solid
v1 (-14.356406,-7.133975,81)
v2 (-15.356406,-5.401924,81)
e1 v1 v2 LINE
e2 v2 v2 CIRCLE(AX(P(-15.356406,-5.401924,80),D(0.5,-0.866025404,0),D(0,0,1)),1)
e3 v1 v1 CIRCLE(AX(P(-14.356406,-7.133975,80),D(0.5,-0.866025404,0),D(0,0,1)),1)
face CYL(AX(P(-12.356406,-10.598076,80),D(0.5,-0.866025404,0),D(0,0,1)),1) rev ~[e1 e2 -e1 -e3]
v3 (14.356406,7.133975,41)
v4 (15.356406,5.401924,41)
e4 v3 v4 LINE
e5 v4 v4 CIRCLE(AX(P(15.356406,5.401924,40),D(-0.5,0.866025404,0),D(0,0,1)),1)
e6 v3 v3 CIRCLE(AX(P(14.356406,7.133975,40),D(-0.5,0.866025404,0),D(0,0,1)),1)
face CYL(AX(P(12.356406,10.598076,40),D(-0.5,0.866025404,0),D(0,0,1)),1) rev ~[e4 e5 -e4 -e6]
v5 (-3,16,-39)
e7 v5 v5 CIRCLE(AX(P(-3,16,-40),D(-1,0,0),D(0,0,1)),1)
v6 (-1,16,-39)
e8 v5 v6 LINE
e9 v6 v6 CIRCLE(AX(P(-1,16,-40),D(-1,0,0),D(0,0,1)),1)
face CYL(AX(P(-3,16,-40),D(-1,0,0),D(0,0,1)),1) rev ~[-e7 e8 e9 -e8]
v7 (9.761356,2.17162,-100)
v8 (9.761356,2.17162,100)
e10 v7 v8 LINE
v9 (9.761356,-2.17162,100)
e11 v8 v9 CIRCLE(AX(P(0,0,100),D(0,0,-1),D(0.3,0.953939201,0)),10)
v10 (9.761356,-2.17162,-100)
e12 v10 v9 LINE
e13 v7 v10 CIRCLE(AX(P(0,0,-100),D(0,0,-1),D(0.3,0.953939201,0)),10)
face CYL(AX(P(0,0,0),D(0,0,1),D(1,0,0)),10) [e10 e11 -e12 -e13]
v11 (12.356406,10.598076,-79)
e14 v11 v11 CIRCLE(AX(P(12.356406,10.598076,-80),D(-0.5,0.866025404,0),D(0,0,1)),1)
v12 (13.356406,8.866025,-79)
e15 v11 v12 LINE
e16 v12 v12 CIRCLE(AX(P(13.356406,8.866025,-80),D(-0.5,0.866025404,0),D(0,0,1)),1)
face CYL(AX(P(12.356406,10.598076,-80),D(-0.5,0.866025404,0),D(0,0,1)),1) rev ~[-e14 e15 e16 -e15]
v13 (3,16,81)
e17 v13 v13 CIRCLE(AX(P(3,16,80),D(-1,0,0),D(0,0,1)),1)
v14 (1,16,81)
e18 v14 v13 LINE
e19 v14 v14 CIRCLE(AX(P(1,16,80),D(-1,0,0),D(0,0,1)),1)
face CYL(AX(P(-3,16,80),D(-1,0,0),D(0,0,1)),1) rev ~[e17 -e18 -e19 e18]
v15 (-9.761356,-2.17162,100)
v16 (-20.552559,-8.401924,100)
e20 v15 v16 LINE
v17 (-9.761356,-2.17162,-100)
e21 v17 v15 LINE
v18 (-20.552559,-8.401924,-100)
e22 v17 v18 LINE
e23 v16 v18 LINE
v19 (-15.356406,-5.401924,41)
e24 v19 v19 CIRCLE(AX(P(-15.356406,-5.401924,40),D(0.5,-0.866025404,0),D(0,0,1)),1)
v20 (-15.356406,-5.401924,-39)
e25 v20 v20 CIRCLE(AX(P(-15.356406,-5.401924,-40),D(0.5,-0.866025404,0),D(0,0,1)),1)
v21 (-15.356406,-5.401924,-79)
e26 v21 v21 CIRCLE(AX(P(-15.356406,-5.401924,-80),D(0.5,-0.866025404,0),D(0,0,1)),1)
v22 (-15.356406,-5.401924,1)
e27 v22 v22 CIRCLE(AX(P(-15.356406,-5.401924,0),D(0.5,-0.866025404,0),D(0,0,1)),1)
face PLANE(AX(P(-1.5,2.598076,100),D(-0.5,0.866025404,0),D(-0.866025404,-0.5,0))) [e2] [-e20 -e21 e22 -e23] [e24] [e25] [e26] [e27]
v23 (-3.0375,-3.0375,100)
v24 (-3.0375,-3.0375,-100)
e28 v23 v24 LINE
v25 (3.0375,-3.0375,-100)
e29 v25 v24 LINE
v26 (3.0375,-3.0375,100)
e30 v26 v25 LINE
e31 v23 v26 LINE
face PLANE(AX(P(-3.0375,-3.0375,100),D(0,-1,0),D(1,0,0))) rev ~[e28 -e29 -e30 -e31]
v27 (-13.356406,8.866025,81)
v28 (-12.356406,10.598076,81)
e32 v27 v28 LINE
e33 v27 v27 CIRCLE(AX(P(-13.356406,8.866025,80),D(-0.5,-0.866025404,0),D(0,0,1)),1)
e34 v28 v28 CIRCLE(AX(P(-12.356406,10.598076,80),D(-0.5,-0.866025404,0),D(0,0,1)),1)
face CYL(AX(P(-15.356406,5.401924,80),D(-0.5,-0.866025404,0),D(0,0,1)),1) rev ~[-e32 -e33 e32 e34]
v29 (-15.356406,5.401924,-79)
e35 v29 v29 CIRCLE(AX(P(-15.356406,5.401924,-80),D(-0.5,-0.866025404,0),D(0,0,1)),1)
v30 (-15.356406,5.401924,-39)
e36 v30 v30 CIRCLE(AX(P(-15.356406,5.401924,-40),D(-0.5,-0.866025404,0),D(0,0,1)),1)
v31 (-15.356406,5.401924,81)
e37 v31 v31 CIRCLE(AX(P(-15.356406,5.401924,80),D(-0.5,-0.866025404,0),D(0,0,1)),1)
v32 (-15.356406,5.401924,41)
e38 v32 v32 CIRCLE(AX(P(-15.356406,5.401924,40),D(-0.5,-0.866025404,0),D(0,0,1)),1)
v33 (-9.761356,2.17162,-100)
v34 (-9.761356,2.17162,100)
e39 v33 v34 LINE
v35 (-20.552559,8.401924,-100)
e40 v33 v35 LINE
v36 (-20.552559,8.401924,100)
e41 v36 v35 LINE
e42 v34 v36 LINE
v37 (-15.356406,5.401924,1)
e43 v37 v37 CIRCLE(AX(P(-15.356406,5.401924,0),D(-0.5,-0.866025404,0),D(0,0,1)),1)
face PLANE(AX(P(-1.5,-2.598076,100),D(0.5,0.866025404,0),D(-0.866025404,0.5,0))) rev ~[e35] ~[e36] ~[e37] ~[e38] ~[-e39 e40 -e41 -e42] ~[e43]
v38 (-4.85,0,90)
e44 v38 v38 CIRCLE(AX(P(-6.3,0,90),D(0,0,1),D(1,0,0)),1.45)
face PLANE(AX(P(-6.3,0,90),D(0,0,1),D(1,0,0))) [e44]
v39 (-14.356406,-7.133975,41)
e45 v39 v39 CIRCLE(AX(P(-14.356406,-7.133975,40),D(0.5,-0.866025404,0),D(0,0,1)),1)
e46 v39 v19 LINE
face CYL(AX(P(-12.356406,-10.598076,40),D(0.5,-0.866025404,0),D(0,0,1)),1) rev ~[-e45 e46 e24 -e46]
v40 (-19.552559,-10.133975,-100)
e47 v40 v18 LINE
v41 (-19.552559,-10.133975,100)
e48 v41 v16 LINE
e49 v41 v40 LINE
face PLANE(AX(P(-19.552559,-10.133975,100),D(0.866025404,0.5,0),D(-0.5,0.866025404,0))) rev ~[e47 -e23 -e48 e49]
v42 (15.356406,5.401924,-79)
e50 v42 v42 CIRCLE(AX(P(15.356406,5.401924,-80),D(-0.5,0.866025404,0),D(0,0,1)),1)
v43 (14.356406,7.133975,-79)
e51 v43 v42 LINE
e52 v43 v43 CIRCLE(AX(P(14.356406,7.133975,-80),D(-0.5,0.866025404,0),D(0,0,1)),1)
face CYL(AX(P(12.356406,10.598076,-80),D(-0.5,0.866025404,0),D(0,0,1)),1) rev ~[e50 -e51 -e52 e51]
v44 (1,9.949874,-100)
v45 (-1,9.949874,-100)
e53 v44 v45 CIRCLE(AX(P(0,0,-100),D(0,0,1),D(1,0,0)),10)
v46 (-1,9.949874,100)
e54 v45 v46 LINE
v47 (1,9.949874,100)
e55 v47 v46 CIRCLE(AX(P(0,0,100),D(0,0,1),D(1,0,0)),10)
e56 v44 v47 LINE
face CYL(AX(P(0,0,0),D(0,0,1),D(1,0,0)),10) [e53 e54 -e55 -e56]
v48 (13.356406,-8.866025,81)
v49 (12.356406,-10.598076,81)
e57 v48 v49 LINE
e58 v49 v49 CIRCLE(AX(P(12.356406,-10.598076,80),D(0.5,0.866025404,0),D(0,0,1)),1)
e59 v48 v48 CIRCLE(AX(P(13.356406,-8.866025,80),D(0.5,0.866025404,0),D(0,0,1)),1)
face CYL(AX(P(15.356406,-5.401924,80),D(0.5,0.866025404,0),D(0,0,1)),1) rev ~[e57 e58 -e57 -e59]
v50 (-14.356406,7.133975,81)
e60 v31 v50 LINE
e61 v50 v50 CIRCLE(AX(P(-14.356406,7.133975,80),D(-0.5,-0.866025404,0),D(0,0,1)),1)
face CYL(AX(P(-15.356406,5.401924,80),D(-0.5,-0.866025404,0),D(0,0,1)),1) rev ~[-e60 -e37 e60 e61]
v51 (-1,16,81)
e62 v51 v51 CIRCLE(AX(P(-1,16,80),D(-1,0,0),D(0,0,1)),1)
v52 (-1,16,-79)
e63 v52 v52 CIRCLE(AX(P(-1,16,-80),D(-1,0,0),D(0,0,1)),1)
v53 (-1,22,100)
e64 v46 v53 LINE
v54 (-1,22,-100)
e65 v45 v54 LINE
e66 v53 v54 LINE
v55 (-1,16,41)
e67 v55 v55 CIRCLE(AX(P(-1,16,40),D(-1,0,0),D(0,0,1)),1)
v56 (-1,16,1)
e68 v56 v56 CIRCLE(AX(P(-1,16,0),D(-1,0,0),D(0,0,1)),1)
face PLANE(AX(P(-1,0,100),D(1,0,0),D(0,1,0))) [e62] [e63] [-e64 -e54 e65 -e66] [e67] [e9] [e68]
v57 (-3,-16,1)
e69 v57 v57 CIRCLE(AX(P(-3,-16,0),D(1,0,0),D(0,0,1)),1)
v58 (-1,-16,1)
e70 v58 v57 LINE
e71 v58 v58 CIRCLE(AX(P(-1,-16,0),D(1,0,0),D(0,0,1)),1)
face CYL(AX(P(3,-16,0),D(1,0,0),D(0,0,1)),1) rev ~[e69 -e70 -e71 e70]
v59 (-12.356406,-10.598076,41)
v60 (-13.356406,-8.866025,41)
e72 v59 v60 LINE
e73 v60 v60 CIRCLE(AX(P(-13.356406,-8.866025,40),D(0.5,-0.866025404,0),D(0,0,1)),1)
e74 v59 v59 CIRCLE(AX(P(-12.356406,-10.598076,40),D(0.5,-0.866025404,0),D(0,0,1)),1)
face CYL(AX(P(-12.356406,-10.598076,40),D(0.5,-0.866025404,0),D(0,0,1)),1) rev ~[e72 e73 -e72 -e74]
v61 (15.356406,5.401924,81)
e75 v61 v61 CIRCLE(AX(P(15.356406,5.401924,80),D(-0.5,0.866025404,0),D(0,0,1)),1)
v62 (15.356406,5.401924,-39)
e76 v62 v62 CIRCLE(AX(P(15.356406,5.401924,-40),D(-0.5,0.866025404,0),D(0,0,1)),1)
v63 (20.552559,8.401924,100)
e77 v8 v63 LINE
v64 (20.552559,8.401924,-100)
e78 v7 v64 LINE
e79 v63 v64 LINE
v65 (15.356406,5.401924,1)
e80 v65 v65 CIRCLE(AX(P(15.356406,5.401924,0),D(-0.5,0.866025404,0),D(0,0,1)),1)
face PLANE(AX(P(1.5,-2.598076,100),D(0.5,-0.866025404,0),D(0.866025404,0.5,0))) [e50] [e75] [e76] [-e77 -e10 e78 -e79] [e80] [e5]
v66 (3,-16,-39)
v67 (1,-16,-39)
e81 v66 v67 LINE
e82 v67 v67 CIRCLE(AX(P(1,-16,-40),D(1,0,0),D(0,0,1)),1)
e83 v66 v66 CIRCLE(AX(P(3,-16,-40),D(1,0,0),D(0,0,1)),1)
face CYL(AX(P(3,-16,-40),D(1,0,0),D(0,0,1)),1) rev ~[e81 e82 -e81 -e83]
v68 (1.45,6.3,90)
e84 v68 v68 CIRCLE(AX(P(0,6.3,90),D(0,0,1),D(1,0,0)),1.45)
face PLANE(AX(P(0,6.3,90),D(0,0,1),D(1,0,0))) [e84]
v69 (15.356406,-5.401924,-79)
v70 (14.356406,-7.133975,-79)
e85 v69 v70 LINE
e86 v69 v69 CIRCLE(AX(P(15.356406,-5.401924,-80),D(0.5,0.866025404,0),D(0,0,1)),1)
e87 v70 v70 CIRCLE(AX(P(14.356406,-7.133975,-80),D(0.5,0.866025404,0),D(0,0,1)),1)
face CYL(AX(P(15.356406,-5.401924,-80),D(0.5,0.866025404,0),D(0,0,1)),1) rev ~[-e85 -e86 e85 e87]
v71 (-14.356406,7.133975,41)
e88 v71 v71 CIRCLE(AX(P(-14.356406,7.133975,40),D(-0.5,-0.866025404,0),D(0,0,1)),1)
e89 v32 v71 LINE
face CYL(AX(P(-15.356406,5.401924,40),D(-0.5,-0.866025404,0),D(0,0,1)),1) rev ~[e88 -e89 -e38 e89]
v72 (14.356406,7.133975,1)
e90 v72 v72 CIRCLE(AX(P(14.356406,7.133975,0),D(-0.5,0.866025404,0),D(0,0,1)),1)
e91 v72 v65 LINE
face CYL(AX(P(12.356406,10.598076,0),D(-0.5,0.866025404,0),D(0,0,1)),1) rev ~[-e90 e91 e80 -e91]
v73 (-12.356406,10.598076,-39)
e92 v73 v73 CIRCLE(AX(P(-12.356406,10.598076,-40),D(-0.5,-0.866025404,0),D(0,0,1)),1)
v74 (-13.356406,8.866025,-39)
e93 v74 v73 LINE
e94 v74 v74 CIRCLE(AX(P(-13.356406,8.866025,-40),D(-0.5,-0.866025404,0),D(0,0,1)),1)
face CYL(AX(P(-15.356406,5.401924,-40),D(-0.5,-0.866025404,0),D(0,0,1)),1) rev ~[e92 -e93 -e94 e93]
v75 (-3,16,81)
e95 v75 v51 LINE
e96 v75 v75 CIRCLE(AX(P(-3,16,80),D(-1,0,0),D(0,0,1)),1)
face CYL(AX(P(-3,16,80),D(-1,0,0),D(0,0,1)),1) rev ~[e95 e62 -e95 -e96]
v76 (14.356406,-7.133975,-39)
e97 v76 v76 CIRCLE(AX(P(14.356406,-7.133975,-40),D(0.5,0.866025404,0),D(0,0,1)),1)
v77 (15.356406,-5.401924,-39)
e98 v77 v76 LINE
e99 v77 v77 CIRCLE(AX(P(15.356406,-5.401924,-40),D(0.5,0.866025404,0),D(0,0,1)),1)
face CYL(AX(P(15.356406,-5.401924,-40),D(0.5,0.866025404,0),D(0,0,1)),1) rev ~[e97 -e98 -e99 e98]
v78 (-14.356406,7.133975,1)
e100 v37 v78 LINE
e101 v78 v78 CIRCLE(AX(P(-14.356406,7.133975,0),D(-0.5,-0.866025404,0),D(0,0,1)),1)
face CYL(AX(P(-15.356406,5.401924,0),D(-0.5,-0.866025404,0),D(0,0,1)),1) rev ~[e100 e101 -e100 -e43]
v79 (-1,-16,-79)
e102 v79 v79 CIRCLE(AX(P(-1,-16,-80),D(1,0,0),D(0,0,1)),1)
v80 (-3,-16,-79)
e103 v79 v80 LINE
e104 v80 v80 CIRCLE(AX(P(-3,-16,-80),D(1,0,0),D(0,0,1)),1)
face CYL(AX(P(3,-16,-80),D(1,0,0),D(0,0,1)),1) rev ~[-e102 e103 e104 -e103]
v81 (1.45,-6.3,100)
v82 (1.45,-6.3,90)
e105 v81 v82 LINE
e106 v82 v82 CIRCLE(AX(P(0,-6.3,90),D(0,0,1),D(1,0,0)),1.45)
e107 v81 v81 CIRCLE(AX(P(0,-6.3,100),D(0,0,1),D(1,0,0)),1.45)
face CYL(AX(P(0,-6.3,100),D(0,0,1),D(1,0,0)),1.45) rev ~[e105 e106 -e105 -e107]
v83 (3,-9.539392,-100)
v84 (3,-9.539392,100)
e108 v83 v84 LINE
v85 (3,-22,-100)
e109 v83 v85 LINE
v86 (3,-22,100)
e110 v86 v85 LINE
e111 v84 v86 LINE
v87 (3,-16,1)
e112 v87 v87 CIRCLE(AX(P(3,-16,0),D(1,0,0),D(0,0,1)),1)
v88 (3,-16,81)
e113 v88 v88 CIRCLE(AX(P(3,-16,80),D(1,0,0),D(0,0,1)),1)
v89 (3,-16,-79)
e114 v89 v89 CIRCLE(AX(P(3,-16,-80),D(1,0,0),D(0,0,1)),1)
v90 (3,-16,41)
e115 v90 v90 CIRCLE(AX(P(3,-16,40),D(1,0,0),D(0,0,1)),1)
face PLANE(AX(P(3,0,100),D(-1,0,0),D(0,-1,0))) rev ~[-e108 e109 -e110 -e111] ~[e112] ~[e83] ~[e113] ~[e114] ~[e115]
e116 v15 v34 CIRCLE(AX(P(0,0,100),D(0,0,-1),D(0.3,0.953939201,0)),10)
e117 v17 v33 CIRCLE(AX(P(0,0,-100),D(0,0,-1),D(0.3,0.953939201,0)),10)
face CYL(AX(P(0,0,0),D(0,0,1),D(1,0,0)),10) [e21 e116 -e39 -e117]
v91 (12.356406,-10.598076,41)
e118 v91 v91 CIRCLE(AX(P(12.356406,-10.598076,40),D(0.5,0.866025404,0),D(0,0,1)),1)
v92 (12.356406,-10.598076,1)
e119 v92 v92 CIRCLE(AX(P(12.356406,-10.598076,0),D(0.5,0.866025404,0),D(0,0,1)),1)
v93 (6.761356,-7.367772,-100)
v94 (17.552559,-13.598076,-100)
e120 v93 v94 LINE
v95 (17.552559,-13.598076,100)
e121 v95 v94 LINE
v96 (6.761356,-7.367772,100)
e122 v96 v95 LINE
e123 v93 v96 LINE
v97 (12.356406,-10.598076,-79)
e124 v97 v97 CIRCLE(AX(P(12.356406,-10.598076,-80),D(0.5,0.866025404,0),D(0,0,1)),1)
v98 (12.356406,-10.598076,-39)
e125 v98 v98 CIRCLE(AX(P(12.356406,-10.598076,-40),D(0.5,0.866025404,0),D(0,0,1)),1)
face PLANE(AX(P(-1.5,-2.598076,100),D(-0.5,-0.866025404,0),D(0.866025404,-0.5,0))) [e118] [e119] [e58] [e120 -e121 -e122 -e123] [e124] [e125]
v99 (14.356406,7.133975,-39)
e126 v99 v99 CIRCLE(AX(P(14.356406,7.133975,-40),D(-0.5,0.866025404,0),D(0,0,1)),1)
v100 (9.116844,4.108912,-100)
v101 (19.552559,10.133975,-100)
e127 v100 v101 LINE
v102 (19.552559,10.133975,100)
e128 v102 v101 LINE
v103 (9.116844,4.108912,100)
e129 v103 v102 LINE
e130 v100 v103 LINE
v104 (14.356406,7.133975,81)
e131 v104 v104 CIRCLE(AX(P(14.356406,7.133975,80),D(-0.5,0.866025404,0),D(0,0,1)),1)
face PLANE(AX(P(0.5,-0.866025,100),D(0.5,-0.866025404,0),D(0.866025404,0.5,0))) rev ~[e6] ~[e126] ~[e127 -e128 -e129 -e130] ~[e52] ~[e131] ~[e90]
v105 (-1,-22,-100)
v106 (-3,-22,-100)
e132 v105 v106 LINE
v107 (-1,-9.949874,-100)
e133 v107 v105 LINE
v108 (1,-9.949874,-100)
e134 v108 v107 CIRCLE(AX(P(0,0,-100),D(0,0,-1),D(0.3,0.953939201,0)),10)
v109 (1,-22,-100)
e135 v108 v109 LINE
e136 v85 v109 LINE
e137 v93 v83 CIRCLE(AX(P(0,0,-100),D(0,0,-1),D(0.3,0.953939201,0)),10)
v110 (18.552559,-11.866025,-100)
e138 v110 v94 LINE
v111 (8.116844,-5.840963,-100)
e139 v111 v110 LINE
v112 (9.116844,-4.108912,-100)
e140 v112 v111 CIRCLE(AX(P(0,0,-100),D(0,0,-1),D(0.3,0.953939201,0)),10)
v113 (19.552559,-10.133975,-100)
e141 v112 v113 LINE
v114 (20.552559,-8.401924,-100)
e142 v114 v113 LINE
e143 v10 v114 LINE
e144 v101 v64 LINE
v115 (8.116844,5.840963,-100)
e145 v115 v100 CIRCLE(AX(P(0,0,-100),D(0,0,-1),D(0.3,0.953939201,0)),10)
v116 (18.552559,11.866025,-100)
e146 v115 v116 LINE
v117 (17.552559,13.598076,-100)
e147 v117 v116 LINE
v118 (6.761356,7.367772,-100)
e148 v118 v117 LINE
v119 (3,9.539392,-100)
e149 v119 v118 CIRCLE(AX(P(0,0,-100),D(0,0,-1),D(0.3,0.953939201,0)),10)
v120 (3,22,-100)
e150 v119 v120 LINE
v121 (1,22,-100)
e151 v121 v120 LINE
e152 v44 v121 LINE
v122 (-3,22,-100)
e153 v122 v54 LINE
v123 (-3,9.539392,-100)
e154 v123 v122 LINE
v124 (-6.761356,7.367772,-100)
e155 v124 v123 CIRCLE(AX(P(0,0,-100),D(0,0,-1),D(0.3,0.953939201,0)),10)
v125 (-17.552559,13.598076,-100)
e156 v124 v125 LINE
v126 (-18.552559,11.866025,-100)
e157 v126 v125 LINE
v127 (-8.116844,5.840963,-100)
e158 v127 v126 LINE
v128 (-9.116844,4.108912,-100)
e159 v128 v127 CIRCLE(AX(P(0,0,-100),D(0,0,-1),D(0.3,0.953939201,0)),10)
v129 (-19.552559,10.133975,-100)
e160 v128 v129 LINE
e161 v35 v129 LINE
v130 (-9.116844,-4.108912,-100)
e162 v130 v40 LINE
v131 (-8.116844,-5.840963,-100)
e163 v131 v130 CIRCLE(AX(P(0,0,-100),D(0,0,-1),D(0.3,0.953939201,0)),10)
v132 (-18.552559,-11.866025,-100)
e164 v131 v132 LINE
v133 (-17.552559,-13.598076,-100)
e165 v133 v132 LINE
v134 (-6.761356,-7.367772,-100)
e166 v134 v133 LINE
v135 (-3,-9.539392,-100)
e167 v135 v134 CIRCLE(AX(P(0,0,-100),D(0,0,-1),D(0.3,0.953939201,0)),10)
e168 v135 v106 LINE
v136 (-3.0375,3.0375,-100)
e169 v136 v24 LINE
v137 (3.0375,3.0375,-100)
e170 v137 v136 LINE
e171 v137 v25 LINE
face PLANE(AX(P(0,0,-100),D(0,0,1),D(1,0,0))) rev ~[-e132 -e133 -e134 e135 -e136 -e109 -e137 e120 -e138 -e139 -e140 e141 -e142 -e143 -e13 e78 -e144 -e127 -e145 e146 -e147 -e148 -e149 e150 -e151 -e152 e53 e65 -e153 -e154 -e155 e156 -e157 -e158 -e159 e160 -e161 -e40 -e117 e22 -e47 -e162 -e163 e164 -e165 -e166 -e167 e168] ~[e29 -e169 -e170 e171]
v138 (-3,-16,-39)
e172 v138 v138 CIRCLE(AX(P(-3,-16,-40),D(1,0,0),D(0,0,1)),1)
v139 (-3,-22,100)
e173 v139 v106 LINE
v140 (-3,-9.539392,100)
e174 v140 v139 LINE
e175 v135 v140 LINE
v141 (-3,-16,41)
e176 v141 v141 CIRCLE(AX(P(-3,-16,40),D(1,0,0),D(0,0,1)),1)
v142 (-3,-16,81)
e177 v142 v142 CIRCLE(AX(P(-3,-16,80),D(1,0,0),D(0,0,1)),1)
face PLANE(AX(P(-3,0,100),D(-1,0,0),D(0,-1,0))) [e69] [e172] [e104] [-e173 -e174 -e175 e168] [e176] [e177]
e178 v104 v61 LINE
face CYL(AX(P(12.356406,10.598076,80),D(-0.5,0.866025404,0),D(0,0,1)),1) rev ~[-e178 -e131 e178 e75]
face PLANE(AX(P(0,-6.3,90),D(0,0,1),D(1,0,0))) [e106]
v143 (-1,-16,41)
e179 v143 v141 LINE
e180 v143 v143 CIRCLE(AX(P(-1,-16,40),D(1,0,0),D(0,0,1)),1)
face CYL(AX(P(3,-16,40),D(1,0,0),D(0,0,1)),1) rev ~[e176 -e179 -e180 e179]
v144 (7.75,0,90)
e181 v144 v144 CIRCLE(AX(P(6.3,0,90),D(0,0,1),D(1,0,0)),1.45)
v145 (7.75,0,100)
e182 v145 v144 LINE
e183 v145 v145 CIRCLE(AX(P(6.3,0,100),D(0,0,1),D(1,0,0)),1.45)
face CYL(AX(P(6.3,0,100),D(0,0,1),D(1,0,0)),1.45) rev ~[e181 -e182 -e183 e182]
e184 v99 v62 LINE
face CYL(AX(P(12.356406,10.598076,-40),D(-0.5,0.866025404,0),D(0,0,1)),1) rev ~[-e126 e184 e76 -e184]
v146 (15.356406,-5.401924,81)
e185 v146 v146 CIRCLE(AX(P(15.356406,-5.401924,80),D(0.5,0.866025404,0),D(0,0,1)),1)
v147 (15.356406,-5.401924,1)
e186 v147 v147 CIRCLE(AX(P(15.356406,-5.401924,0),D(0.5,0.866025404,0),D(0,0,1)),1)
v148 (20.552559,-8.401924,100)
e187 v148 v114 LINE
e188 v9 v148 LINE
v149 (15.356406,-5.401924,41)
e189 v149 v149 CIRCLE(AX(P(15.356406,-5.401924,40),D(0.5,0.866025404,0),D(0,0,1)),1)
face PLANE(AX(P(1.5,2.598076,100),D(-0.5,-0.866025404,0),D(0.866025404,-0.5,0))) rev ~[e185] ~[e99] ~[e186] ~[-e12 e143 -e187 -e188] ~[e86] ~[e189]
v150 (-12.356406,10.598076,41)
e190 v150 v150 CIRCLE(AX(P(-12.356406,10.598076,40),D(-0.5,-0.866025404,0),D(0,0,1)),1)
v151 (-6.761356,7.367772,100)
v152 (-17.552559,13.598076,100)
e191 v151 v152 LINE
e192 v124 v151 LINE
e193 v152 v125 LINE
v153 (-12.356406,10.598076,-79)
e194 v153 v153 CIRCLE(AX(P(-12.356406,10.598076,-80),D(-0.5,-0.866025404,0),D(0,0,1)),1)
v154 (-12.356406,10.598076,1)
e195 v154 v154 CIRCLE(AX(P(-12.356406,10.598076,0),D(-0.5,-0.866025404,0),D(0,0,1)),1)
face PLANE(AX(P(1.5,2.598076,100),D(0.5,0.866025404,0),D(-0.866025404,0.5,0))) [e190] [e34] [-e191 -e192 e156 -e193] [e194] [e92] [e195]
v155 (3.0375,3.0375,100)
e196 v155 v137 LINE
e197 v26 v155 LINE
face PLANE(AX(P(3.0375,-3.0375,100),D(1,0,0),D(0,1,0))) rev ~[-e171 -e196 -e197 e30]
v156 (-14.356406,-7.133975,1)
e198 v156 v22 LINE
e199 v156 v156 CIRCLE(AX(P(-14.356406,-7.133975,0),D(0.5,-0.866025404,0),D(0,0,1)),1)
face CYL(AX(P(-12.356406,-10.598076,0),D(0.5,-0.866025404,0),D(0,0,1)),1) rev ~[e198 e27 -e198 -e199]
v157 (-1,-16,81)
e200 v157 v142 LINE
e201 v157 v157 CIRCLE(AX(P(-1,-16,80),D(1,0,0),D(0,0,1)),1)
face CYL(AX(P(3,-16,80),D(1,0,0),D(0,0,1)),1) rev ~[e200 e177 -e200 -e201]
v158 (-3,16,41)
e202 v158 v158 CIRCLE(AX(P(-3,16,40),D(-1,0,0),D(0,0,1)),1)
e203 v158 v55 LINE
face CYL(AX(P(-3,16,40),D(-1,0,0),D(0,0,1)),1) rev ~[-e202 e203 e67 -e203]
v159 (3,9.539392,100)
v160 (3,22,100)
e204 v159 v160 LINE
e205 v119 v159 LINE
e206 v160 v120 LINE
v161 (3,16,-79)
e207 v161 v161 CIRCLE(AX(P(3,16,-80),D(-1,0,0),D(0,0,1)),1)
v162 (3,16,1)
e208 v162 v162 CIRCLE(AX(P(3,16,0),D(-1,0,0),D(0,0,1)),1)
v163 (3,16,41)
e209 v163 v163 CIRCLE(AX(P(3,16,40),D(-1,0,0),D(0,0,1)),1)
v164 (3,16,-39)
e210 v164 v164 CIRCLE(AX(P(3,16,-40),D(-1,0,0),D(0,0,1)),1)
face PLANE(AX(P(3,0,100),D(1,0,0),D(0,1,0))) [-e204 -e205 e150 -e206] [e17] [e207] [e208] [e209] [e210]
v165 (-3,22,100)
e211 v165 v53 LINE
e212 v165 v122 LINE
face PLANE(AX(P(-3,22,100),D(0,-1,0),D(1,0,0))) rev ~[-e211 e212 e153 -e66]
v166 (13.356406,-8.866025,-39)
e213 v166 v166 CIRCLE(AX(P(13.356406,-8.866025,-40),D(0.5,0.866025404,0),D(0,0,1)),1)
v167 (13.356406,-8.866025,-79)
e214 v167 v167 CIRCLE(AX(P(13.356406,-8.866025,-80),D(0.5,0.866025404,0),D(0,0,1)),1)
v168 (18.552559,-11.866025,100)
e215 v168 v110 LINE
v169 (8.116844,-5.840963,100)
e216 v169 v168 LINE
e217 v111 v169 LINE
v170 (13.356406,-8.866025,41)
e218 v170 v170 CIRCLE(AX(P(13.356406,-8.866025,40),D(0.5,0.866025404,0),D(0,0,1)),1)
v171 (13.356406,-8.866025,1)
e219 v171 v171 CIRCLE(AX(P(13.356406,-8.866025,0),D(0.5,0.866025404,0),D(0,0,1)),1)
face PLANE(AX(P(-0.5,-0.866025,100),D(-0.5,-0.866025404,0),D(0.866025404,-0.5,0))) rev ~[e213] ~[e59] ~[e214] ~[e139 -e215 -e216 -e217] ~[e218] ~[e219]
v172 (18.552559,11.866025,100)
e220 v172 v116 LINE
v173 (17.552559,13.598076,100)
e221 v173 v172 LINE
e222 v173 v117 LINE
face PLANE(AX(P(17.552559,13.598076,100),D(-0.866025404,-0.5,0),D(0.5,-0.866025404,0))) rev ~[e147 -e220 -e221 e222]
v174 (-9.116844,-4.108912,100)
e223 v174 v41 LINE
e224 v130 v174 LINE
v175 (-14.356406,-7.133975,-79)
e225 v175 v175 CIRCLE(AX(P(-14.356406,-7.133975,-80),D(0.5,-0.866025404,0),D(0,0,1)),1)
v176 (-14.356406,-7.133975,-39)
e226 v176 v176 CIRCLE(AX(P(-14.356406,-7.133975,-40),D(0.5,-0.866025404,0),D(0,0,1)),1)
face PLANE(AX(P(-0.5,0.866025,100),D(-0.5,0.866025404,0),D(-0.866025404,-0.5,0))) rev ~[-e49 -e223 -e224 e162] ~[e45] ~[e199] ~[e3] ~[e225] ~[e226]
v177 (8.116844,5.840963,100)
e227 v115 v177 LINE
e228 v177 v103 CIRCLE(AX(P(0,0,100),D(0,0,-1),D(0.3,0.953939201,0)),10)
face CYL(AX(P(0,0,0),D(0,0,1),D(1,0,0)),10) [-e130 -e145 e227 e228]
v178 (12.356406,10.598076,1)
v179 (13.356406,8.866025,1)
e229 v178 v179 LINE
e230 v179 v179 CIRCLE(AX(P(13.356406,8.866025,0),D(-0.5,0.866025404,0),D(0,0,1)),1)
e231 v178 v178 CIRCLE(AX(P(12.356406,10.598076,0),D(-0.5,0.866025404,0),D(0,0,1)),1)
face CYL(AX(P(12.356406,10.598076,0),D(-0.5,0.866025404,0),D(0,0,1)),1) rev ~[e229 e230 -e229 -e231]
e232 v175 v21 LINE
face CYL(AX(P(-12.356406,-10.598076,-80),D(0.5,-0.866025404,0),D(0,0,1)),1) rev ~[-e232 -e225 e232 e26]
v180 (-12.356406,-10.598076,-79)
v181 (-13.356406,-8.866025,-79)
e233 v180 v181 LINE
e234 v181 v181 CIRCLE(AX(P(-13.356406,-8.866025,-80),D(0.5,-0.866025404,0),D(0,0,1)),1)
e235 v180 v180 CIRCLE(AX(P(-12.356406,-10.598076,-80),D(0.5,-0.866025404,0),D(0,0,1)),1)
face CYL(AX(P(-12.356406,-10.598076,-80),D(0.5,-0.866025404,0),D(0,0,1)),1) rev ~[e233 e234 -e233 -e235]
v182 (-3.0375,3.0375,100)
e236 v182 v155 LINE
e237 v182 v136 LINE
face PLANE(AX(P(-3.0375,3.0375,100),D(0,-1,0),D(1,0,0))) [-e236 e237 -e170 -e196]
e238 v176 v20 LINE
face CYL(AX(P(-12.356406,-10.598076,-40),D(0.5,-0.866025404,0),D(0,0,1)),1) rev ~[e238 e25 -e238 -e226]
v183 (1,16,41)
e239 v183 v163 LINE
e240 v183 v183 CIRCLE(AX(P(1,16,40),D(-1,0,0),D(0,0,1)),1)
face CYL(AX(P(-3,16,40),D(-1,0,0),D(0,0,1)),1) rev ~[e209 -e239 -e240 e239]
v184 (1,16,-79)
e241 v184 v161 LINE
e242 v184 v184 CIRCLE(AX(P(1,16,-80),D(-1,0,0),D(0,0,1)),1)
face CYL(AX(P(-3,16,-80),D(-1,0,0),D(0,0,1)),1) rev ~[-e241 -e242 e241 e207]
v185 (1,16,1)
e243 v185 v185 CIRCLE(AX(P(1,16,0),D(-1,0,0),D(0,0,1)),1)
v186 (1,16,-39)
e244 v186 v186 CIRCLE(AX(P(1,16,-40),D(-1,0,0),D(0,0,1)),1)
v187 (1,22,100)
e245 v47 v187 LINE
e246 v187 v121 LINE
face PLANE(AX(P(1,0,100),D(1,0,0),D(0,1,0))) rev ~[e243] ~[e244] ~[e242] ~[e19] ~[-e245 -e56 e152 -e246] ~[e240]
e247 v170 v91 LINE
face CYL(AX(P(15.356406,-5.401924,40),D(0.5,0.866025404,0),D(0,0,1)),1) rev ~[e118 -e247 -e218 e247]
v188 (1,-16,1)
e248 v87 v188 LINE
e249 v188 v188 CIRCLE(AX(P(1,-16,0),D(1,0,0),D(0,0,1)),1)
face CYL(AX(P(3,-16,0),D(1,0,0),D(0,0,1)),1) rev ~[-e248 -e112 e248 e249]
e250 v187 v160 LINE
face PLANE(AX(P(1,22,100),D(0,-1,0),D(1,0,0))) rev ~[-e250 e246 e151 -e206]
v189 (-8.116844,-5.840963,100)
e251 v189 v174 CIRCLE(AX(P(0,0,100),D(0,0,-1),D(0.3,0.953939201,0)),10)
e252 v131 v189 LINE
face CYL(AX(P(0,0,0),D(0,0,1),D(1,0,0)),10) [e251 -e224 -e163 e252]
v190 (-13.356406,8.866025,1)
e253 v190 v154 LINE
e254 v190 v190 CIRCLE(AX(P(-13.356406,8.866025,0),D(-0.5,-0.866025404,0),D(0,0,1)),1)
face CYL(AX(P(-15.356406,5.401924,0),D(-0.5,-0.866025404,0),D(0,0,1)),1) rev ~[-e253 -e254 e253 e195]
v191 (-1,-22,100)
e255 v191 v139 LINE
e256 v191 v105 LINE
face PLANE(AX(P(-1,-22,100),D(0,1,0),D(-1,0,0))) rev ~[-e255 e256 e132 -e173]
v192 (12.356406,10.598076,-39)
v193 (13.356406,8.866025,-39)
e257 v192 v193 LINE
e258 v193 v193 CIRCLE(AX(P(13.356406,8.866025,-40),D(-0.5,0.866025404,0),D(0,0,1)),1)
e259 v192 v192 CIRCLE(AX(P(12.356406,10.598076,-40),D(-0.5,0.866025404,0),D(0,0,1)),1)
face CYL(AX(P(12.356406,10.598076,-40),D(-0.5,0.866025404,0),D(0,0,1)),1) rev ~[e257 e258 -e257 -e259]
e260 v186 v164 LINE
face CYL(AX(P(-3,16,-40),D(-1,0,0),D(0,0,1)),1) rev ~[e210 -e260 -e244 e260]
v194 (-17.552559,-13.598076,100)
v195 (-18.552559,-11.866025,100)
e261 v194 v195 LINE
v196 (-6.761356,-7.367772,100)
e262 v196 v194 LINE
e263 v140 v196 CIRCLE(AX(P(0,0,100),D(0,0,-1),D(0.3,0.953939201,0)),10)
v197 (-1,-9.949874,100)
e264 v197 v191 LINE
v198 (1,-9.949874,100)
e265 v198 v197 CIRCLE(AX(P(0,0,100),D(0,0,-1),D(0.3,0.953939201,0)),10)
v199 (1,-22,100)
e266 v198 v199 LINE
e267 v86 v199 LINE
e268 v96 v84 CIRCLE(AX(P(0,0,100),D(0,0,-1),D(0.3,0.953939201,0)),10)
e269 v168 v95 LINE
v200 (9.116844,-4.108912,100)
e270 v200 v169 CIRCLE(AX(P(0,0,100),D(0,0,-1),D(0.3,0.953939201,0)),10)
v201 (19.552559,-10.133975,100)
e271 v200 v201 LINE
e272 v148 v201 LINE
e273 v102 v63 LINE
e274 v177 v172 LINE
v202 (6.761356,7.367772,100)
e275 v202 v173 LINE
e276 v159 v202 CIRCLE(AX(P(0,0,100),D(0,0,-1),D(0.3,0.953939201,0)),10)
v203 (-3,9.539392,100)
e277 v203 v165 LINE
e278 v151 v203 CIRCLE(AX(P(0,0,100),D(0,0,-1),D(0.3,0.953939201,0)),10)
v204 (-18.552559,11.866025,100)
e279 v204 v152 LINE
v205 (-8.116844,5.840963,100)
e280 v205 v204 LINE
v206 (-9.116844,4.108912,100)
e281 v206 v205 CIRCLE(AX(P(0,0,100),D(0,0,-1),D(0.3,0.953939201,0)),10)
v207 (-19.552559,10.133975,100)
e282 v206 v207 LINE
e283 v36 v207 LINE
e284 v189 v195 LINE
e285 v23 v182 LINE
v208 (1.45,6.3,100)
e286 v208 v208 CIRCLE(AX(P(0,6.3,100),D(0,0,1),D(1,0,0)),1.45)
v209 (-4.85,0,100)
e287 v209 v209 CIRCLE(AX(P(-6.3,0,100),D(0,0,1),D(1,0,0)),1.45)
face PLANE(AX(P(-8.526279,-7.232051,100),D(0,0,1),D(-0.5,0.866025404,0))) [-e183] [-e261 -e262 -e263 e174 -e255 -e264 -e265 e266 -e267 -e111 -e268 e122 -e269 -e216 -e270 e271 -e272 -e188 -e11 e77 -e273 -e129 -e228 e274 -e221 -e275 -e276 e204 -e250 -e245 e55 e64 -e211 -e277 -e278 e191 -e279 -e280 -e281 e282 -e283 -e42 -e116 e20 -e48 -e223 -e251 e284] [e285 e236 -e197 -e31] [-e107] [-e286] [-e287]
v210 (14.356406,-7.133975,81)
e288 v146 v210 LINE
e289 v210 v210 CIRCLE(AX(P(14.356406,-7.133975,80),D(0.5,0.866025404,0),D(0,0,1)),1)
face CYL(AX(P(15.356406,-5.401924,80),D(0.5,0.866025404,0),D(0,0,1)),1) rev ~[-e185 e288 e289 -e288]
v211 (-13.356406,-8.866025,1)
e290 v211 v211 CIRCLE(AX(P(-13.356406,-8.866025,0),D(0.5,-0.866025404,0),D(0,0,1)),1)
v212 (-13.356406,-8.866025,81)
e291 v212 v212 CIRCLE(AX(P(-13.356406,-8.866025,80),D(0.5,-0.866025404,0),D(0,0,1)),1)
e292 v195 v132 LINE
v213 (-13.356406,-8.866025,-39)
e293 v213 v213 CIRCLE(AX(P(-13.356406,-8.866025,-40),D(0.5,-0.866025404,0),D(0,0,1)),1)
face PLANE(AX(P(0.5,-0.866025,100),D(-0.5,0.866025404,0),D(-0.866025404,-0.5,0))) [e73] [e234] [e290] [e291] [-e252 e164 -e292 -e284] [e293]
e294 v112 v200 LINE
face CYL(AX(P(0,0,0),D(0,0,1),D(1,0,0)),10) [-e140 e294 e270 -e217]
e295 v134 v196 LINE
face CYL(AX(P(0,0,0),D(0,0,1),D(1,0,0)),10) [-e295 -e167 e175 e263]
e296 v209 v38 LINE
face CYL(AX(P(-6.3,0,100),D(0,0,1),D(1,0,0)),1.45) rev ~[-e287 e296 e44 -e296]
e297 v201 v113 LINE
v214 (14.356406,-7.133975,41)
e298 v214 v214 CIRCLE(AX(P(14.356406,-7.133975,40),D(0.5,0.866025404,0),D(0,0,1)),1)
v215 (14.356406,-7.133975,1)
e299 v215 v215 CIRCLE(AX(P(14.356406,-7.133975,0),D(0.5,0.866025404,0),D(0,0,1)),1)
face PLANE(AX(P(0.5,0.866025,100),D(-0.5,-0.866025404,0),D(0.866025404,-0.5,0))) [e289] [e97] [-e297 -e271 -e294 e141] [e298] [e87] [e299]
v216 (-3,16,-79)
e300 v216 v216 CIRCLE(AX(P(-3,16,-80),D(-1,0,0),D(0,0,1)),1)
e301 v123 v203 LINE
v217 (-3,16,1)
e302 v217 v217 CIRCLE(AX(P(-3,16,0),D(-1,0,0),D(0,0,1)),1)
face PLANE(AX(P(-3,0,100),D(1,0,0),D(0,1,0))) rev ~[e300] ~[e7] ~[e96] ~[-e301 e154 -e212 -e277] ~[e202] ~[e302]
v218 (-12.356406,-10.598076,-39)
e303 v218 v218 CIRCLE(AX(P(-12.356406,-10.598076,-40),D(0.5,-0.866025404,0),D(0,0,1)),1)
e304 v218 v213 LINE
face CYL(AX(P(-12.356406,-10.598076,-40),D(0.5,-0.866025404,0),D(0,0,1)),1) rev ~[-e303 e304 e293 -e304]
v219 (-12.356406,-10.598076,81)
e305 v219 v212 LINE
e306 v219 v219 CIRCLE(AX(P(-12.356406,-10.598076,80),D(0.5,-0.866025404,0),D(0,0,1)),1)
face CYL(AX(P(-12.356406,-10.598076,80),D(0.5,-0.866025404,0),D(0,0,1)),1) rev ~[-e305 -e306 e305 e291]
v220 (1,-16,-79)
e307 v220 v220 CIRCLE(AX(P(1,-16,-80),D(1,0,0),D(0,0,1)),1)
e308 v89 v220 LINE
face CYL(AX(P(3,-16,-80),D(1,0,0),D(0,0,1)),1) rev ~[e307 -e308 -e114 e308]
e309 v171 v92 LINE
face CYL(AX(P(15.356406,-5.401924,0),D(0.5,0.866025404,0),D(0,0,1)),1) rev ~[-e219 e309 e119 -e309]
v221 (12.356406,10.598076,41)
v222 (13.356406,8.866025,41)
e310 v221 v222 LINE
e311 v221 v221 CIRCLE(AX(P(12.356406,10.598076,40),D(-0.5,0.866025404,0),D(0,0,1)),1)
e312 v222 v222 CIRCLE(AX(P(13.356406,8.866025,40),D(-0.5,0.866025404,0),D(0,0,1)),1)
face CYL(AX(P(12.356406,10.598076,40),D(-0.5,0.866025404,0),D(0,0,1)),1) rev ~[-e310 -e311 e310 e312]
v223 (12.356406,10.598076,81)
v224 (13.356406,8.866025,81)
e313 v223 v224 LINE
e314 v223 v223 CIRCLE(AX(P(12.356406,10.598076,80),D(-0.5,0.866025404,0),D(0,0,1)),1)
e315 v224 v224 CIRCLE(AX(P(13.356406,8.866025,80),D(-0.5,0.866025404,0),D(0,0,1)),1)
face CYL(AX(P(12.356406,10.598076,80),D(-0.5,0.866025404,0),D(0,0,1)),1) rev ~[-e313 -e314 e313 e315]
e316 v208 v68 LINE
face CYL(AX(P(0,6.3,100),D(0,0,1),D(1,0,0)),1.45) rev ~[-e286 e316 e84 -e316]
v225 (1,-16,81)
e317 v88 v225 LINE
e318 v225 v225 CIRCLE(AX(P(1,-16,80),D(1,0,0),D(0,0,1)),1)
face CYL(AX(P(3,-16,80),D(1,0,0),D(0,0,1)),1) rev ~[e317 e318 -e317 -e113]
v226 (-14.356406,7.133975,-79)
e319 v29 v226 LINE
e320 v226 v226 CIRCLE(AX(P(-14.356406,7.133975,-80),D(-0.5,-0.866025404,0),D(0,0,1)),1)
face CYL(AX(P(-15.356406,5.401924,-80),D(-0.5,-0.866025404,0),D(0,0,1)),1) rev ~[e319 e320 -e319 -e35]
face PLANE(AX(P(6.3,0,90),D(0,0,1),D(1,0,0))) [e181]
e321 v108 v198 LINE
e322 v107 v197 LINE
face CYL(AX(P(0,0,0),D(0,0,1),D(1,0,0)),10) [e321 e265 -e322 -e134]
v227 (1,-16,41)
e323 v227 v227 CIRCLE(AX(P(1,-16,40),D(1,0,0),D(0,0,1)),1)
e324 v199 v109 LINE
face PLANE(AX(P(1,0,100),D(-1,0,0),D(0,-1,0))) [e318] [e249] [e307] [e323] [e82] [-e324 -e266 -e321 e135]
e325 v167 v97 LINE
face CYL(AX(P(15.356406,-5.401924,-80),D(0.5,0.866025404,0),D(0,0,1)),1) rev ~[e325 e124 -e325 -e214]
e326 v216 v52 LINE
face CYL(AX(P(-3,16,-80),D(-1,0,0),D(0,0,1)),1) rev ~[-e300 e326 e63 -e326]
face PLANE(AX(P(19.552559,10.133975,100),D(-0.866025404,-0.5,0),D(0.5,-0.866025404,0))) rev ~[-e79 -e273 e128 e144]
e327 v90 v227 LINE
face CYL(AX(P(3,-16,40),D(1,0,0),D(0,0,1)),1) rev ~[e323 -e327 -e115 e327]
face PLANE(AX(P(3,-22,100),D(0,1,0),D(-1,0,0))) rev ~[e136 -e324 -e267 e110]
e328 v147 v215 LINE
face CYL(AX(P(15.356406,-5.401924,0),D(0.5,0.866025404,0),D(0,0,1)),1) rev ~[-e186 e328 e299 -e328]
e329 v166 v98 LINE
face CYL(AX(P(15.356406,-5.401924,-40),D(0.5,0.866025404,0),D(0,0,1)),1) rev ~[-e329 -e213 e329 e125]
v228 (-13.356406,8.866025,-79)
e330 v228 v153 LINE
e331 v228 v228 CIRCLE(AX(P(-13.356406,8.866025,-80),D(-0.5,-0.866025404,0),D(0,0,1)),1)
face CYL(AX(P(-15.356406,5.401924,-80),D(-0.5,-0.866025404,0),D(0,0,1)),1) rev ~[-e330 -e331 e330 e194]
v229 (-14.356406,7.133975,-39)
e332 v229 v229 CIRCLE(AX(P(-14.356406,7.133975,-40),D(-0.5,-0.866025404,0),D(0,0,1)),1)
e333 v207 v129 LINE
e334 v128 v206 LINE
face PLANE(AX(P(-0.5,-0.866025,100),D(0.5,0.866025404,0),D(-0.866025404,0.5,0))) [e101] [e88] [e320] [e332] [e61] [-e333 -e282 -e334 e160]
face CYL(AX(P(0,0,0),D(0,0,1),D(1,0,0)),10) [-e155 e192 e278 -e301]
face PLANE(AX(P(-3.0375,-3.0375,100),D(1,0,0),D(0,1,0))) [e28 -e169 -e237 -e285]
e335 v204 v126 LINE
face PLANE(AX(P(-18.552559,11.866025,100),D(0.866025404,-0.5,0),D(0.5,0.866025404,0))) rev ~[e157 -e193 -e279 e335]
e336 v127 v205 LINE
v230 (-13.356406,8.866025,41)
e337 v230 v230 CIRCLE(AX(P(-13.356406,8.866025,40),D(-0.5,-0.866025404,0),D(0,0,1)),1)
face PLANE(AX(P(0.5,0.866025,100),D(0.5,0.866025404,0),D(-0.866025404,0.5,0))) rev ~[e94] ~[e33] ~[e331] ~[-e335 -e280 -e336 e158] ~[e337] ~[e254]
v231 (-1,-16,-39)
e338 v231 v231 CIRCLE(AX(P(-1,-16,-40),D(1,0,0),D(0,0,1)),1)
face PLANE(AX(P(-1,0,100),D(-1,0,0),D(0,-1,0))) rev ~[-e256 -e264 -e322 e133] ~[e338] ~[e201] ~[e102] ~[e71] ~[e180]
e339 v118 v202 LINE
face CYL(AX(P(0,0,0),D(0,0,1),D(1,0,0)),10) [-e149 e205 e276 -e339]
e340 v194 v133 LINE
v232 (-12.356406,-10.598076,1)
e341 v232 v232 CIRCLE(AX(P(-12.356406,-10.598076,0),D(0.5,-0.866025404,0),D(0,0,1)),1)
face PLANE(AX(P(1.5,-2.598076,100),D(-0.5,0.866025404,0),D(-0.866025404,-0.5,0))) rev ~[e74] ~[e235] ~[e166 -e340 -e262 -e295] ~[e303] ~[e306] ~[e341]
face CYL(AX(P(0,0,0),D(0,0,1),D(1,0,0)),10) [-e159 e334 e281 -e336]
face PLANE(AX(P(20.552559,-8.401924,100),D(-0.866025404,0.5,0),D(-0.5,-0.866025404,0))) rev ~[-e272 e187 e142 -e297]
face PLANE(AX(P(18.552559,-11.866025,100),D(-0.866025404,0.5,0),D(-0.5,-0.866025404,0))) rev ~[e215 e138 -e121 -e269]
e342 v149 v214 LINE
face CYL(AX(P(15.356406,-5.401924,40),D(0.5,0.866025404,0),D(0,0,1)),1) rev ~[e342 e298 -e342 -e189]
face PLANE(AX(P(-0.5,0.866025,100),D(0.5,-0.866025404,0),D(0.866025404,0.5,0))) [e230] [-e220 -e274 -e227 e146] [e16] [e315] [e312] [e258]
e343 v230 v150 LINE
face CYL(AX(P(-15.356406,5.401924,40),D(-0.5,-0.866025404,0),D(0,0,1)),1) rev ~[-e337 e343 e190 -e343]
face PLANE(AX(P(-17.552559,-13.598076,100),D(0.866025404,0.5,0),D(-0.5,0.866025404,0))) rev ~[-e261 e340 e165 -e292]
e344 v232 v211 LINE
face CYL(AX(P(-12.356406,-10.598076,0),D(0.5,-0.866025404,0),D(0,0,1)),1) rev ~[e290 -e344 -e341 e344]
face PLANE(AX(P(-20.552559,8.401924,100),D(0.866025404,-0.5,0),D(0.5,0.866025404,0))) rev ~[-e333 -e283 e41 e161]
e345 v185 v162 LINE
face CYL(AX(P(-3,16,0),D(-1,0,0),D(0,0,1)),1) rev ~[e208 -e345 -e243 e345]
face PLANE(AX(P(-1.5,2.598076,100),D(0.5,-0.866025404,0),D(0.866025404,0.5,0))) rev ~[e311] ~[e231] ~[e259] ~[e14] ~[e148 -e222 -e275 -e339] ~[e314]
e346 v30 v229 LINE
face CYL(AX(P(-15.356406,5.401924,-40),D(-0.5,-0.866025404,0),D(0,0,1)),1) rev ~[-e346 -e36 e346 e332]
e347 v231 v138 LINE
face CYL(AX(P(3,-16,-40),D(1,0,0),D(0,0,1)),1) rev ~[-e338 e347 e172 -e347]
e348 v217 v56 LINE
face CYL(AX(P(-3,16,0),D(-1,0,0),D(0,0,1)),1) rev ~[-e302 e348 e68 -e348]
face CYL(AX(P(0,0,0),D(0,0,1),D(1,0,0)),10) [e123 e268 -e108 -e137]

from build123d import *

# Parameters (mm, degrees)
SKETCH1_R           = 10
BOSS_EXTRUDE1_DEPTH = 100
SKETCH4_W           = 2
SKETCH4_H           = 22
BOSS_EXTRUDE3_DEPTH = 200
CIRPATTERN7_COUNT   = 6
SKETCH7_R           = 1
CUT_EXTRUDE2_DEPTH  = 10
CIRPATTERN9_COUNT   = 6
CUT_EXTRUDE3_REACH  = 204.253
SKETCH8_W           = 6.075
SKETCH8_H           = 6.075
SKETCH9_R           = 1.45
CUT_EXTRUDE4_DEPTH  = 10


with BuildPart() as part:
    # Sketch1 → Boss-Extrude1 (new, symmetric)
    with BuildSketch(Plane.XY):
        Circle(SKETCH1_R)
    extrude(amount=BOSS_EXTRUDE1_DEPTH, both=True)

    # Sketch4 → Boss-Extrude3 (add)
    with BuildSketch(Plane.XY.offset(100)):
        with Locations((-2, 11)):
            Rectangle(SKETCH4_W, SKETCH4_H)
        with Locations((2, 11)):
            Rectangle(SKETCH4_W, SKETCH4_H)
    boss_extrude3 = extrude(amount=-BOSS_EXTRUDE3_DEPTH)

    # CirPattern7: Boss-Extrude3 ×6 about axis
    cirpattern7_axis = Axis((0, 0, 0), (0, 0, 1))
    for i in range(1, CIRPATTERN7_COUNT):
        add(boss_extrude3.rotate(cirpattern7_axis, i * 360 / CIRPATTERN7_COUNT))

    # Sketch7 → Cut-Extrude2 (cut)
    with BuildSketch(Plane.ZY.offset(3)):
        with Locations((-80, 16)):
            Circle(SKETCH7_R)
        with Locations((-40, 16)):
            Circle(SKETCH7_R)
        with Locations((0, 16)):
            Circle(SKETCH7_R)
        with Locations((40, 16)):
            Circle(SKETCH7_R)
        with Locations((80, 16)):
            Circle(SKETCH7_R)
    cut_extrude2 = extrude(amount=-CUT_EXTRUDE2_DEPTH, mode=Mode.SUBTRACT)

    # CirPattern9: Cut-Extrude2 ×6 about axis
    cirpattern9_axis = Axis((0, 0, 100), (0, 0, 1))
    for i in range(1, CIRPATTERN9_COUNT):
        add(cut_extrude2.rotate(cirpattern9_axis, i * 360 / CIRPATTERN9_COUNT), mode=Mode.SUBTRACT)

    # Sketch8 → Cut-Extrude3 (cut, up to next)
    with BuildSketch(Plane.XY.offset(100), mode=Mode.PRIVATE) as cut_extrude3_sk1:
        Rectangle(SKETCH8_W, SKETCH8_H)
    cut_extrude3_tool1 = extrude(cut_extrude3_sk1.sketch, amount=-CUT_EXTRUDE3_REACH, mode=Mode.PRIVATE) & part.part
    add(cut_extrude3_tool1.solids().sort_by_distance((0, 0, 100))[0], mode=Mode.SUBTRACT)

    # Sketch9 → Cut-Extrude4 (cut)
    with BuildSketch(Plane.XY.offset(100)):
        with Locations((6.3, 0)):
            Circle(SKETCH9_R)
        with Locations((0, -6.3)):
            Circle(SKETCH9_R)
        with Locations((-6.3, 0)):
            Circle(SKETCH9_R)
        with Locations((0, 6.3)):
            Circle(SKETCH9_R)
    extrude(amount=-CUT_EXTRUDE4_DEPTH, mode=Mode.SUBTRACT)


solid = part.part
